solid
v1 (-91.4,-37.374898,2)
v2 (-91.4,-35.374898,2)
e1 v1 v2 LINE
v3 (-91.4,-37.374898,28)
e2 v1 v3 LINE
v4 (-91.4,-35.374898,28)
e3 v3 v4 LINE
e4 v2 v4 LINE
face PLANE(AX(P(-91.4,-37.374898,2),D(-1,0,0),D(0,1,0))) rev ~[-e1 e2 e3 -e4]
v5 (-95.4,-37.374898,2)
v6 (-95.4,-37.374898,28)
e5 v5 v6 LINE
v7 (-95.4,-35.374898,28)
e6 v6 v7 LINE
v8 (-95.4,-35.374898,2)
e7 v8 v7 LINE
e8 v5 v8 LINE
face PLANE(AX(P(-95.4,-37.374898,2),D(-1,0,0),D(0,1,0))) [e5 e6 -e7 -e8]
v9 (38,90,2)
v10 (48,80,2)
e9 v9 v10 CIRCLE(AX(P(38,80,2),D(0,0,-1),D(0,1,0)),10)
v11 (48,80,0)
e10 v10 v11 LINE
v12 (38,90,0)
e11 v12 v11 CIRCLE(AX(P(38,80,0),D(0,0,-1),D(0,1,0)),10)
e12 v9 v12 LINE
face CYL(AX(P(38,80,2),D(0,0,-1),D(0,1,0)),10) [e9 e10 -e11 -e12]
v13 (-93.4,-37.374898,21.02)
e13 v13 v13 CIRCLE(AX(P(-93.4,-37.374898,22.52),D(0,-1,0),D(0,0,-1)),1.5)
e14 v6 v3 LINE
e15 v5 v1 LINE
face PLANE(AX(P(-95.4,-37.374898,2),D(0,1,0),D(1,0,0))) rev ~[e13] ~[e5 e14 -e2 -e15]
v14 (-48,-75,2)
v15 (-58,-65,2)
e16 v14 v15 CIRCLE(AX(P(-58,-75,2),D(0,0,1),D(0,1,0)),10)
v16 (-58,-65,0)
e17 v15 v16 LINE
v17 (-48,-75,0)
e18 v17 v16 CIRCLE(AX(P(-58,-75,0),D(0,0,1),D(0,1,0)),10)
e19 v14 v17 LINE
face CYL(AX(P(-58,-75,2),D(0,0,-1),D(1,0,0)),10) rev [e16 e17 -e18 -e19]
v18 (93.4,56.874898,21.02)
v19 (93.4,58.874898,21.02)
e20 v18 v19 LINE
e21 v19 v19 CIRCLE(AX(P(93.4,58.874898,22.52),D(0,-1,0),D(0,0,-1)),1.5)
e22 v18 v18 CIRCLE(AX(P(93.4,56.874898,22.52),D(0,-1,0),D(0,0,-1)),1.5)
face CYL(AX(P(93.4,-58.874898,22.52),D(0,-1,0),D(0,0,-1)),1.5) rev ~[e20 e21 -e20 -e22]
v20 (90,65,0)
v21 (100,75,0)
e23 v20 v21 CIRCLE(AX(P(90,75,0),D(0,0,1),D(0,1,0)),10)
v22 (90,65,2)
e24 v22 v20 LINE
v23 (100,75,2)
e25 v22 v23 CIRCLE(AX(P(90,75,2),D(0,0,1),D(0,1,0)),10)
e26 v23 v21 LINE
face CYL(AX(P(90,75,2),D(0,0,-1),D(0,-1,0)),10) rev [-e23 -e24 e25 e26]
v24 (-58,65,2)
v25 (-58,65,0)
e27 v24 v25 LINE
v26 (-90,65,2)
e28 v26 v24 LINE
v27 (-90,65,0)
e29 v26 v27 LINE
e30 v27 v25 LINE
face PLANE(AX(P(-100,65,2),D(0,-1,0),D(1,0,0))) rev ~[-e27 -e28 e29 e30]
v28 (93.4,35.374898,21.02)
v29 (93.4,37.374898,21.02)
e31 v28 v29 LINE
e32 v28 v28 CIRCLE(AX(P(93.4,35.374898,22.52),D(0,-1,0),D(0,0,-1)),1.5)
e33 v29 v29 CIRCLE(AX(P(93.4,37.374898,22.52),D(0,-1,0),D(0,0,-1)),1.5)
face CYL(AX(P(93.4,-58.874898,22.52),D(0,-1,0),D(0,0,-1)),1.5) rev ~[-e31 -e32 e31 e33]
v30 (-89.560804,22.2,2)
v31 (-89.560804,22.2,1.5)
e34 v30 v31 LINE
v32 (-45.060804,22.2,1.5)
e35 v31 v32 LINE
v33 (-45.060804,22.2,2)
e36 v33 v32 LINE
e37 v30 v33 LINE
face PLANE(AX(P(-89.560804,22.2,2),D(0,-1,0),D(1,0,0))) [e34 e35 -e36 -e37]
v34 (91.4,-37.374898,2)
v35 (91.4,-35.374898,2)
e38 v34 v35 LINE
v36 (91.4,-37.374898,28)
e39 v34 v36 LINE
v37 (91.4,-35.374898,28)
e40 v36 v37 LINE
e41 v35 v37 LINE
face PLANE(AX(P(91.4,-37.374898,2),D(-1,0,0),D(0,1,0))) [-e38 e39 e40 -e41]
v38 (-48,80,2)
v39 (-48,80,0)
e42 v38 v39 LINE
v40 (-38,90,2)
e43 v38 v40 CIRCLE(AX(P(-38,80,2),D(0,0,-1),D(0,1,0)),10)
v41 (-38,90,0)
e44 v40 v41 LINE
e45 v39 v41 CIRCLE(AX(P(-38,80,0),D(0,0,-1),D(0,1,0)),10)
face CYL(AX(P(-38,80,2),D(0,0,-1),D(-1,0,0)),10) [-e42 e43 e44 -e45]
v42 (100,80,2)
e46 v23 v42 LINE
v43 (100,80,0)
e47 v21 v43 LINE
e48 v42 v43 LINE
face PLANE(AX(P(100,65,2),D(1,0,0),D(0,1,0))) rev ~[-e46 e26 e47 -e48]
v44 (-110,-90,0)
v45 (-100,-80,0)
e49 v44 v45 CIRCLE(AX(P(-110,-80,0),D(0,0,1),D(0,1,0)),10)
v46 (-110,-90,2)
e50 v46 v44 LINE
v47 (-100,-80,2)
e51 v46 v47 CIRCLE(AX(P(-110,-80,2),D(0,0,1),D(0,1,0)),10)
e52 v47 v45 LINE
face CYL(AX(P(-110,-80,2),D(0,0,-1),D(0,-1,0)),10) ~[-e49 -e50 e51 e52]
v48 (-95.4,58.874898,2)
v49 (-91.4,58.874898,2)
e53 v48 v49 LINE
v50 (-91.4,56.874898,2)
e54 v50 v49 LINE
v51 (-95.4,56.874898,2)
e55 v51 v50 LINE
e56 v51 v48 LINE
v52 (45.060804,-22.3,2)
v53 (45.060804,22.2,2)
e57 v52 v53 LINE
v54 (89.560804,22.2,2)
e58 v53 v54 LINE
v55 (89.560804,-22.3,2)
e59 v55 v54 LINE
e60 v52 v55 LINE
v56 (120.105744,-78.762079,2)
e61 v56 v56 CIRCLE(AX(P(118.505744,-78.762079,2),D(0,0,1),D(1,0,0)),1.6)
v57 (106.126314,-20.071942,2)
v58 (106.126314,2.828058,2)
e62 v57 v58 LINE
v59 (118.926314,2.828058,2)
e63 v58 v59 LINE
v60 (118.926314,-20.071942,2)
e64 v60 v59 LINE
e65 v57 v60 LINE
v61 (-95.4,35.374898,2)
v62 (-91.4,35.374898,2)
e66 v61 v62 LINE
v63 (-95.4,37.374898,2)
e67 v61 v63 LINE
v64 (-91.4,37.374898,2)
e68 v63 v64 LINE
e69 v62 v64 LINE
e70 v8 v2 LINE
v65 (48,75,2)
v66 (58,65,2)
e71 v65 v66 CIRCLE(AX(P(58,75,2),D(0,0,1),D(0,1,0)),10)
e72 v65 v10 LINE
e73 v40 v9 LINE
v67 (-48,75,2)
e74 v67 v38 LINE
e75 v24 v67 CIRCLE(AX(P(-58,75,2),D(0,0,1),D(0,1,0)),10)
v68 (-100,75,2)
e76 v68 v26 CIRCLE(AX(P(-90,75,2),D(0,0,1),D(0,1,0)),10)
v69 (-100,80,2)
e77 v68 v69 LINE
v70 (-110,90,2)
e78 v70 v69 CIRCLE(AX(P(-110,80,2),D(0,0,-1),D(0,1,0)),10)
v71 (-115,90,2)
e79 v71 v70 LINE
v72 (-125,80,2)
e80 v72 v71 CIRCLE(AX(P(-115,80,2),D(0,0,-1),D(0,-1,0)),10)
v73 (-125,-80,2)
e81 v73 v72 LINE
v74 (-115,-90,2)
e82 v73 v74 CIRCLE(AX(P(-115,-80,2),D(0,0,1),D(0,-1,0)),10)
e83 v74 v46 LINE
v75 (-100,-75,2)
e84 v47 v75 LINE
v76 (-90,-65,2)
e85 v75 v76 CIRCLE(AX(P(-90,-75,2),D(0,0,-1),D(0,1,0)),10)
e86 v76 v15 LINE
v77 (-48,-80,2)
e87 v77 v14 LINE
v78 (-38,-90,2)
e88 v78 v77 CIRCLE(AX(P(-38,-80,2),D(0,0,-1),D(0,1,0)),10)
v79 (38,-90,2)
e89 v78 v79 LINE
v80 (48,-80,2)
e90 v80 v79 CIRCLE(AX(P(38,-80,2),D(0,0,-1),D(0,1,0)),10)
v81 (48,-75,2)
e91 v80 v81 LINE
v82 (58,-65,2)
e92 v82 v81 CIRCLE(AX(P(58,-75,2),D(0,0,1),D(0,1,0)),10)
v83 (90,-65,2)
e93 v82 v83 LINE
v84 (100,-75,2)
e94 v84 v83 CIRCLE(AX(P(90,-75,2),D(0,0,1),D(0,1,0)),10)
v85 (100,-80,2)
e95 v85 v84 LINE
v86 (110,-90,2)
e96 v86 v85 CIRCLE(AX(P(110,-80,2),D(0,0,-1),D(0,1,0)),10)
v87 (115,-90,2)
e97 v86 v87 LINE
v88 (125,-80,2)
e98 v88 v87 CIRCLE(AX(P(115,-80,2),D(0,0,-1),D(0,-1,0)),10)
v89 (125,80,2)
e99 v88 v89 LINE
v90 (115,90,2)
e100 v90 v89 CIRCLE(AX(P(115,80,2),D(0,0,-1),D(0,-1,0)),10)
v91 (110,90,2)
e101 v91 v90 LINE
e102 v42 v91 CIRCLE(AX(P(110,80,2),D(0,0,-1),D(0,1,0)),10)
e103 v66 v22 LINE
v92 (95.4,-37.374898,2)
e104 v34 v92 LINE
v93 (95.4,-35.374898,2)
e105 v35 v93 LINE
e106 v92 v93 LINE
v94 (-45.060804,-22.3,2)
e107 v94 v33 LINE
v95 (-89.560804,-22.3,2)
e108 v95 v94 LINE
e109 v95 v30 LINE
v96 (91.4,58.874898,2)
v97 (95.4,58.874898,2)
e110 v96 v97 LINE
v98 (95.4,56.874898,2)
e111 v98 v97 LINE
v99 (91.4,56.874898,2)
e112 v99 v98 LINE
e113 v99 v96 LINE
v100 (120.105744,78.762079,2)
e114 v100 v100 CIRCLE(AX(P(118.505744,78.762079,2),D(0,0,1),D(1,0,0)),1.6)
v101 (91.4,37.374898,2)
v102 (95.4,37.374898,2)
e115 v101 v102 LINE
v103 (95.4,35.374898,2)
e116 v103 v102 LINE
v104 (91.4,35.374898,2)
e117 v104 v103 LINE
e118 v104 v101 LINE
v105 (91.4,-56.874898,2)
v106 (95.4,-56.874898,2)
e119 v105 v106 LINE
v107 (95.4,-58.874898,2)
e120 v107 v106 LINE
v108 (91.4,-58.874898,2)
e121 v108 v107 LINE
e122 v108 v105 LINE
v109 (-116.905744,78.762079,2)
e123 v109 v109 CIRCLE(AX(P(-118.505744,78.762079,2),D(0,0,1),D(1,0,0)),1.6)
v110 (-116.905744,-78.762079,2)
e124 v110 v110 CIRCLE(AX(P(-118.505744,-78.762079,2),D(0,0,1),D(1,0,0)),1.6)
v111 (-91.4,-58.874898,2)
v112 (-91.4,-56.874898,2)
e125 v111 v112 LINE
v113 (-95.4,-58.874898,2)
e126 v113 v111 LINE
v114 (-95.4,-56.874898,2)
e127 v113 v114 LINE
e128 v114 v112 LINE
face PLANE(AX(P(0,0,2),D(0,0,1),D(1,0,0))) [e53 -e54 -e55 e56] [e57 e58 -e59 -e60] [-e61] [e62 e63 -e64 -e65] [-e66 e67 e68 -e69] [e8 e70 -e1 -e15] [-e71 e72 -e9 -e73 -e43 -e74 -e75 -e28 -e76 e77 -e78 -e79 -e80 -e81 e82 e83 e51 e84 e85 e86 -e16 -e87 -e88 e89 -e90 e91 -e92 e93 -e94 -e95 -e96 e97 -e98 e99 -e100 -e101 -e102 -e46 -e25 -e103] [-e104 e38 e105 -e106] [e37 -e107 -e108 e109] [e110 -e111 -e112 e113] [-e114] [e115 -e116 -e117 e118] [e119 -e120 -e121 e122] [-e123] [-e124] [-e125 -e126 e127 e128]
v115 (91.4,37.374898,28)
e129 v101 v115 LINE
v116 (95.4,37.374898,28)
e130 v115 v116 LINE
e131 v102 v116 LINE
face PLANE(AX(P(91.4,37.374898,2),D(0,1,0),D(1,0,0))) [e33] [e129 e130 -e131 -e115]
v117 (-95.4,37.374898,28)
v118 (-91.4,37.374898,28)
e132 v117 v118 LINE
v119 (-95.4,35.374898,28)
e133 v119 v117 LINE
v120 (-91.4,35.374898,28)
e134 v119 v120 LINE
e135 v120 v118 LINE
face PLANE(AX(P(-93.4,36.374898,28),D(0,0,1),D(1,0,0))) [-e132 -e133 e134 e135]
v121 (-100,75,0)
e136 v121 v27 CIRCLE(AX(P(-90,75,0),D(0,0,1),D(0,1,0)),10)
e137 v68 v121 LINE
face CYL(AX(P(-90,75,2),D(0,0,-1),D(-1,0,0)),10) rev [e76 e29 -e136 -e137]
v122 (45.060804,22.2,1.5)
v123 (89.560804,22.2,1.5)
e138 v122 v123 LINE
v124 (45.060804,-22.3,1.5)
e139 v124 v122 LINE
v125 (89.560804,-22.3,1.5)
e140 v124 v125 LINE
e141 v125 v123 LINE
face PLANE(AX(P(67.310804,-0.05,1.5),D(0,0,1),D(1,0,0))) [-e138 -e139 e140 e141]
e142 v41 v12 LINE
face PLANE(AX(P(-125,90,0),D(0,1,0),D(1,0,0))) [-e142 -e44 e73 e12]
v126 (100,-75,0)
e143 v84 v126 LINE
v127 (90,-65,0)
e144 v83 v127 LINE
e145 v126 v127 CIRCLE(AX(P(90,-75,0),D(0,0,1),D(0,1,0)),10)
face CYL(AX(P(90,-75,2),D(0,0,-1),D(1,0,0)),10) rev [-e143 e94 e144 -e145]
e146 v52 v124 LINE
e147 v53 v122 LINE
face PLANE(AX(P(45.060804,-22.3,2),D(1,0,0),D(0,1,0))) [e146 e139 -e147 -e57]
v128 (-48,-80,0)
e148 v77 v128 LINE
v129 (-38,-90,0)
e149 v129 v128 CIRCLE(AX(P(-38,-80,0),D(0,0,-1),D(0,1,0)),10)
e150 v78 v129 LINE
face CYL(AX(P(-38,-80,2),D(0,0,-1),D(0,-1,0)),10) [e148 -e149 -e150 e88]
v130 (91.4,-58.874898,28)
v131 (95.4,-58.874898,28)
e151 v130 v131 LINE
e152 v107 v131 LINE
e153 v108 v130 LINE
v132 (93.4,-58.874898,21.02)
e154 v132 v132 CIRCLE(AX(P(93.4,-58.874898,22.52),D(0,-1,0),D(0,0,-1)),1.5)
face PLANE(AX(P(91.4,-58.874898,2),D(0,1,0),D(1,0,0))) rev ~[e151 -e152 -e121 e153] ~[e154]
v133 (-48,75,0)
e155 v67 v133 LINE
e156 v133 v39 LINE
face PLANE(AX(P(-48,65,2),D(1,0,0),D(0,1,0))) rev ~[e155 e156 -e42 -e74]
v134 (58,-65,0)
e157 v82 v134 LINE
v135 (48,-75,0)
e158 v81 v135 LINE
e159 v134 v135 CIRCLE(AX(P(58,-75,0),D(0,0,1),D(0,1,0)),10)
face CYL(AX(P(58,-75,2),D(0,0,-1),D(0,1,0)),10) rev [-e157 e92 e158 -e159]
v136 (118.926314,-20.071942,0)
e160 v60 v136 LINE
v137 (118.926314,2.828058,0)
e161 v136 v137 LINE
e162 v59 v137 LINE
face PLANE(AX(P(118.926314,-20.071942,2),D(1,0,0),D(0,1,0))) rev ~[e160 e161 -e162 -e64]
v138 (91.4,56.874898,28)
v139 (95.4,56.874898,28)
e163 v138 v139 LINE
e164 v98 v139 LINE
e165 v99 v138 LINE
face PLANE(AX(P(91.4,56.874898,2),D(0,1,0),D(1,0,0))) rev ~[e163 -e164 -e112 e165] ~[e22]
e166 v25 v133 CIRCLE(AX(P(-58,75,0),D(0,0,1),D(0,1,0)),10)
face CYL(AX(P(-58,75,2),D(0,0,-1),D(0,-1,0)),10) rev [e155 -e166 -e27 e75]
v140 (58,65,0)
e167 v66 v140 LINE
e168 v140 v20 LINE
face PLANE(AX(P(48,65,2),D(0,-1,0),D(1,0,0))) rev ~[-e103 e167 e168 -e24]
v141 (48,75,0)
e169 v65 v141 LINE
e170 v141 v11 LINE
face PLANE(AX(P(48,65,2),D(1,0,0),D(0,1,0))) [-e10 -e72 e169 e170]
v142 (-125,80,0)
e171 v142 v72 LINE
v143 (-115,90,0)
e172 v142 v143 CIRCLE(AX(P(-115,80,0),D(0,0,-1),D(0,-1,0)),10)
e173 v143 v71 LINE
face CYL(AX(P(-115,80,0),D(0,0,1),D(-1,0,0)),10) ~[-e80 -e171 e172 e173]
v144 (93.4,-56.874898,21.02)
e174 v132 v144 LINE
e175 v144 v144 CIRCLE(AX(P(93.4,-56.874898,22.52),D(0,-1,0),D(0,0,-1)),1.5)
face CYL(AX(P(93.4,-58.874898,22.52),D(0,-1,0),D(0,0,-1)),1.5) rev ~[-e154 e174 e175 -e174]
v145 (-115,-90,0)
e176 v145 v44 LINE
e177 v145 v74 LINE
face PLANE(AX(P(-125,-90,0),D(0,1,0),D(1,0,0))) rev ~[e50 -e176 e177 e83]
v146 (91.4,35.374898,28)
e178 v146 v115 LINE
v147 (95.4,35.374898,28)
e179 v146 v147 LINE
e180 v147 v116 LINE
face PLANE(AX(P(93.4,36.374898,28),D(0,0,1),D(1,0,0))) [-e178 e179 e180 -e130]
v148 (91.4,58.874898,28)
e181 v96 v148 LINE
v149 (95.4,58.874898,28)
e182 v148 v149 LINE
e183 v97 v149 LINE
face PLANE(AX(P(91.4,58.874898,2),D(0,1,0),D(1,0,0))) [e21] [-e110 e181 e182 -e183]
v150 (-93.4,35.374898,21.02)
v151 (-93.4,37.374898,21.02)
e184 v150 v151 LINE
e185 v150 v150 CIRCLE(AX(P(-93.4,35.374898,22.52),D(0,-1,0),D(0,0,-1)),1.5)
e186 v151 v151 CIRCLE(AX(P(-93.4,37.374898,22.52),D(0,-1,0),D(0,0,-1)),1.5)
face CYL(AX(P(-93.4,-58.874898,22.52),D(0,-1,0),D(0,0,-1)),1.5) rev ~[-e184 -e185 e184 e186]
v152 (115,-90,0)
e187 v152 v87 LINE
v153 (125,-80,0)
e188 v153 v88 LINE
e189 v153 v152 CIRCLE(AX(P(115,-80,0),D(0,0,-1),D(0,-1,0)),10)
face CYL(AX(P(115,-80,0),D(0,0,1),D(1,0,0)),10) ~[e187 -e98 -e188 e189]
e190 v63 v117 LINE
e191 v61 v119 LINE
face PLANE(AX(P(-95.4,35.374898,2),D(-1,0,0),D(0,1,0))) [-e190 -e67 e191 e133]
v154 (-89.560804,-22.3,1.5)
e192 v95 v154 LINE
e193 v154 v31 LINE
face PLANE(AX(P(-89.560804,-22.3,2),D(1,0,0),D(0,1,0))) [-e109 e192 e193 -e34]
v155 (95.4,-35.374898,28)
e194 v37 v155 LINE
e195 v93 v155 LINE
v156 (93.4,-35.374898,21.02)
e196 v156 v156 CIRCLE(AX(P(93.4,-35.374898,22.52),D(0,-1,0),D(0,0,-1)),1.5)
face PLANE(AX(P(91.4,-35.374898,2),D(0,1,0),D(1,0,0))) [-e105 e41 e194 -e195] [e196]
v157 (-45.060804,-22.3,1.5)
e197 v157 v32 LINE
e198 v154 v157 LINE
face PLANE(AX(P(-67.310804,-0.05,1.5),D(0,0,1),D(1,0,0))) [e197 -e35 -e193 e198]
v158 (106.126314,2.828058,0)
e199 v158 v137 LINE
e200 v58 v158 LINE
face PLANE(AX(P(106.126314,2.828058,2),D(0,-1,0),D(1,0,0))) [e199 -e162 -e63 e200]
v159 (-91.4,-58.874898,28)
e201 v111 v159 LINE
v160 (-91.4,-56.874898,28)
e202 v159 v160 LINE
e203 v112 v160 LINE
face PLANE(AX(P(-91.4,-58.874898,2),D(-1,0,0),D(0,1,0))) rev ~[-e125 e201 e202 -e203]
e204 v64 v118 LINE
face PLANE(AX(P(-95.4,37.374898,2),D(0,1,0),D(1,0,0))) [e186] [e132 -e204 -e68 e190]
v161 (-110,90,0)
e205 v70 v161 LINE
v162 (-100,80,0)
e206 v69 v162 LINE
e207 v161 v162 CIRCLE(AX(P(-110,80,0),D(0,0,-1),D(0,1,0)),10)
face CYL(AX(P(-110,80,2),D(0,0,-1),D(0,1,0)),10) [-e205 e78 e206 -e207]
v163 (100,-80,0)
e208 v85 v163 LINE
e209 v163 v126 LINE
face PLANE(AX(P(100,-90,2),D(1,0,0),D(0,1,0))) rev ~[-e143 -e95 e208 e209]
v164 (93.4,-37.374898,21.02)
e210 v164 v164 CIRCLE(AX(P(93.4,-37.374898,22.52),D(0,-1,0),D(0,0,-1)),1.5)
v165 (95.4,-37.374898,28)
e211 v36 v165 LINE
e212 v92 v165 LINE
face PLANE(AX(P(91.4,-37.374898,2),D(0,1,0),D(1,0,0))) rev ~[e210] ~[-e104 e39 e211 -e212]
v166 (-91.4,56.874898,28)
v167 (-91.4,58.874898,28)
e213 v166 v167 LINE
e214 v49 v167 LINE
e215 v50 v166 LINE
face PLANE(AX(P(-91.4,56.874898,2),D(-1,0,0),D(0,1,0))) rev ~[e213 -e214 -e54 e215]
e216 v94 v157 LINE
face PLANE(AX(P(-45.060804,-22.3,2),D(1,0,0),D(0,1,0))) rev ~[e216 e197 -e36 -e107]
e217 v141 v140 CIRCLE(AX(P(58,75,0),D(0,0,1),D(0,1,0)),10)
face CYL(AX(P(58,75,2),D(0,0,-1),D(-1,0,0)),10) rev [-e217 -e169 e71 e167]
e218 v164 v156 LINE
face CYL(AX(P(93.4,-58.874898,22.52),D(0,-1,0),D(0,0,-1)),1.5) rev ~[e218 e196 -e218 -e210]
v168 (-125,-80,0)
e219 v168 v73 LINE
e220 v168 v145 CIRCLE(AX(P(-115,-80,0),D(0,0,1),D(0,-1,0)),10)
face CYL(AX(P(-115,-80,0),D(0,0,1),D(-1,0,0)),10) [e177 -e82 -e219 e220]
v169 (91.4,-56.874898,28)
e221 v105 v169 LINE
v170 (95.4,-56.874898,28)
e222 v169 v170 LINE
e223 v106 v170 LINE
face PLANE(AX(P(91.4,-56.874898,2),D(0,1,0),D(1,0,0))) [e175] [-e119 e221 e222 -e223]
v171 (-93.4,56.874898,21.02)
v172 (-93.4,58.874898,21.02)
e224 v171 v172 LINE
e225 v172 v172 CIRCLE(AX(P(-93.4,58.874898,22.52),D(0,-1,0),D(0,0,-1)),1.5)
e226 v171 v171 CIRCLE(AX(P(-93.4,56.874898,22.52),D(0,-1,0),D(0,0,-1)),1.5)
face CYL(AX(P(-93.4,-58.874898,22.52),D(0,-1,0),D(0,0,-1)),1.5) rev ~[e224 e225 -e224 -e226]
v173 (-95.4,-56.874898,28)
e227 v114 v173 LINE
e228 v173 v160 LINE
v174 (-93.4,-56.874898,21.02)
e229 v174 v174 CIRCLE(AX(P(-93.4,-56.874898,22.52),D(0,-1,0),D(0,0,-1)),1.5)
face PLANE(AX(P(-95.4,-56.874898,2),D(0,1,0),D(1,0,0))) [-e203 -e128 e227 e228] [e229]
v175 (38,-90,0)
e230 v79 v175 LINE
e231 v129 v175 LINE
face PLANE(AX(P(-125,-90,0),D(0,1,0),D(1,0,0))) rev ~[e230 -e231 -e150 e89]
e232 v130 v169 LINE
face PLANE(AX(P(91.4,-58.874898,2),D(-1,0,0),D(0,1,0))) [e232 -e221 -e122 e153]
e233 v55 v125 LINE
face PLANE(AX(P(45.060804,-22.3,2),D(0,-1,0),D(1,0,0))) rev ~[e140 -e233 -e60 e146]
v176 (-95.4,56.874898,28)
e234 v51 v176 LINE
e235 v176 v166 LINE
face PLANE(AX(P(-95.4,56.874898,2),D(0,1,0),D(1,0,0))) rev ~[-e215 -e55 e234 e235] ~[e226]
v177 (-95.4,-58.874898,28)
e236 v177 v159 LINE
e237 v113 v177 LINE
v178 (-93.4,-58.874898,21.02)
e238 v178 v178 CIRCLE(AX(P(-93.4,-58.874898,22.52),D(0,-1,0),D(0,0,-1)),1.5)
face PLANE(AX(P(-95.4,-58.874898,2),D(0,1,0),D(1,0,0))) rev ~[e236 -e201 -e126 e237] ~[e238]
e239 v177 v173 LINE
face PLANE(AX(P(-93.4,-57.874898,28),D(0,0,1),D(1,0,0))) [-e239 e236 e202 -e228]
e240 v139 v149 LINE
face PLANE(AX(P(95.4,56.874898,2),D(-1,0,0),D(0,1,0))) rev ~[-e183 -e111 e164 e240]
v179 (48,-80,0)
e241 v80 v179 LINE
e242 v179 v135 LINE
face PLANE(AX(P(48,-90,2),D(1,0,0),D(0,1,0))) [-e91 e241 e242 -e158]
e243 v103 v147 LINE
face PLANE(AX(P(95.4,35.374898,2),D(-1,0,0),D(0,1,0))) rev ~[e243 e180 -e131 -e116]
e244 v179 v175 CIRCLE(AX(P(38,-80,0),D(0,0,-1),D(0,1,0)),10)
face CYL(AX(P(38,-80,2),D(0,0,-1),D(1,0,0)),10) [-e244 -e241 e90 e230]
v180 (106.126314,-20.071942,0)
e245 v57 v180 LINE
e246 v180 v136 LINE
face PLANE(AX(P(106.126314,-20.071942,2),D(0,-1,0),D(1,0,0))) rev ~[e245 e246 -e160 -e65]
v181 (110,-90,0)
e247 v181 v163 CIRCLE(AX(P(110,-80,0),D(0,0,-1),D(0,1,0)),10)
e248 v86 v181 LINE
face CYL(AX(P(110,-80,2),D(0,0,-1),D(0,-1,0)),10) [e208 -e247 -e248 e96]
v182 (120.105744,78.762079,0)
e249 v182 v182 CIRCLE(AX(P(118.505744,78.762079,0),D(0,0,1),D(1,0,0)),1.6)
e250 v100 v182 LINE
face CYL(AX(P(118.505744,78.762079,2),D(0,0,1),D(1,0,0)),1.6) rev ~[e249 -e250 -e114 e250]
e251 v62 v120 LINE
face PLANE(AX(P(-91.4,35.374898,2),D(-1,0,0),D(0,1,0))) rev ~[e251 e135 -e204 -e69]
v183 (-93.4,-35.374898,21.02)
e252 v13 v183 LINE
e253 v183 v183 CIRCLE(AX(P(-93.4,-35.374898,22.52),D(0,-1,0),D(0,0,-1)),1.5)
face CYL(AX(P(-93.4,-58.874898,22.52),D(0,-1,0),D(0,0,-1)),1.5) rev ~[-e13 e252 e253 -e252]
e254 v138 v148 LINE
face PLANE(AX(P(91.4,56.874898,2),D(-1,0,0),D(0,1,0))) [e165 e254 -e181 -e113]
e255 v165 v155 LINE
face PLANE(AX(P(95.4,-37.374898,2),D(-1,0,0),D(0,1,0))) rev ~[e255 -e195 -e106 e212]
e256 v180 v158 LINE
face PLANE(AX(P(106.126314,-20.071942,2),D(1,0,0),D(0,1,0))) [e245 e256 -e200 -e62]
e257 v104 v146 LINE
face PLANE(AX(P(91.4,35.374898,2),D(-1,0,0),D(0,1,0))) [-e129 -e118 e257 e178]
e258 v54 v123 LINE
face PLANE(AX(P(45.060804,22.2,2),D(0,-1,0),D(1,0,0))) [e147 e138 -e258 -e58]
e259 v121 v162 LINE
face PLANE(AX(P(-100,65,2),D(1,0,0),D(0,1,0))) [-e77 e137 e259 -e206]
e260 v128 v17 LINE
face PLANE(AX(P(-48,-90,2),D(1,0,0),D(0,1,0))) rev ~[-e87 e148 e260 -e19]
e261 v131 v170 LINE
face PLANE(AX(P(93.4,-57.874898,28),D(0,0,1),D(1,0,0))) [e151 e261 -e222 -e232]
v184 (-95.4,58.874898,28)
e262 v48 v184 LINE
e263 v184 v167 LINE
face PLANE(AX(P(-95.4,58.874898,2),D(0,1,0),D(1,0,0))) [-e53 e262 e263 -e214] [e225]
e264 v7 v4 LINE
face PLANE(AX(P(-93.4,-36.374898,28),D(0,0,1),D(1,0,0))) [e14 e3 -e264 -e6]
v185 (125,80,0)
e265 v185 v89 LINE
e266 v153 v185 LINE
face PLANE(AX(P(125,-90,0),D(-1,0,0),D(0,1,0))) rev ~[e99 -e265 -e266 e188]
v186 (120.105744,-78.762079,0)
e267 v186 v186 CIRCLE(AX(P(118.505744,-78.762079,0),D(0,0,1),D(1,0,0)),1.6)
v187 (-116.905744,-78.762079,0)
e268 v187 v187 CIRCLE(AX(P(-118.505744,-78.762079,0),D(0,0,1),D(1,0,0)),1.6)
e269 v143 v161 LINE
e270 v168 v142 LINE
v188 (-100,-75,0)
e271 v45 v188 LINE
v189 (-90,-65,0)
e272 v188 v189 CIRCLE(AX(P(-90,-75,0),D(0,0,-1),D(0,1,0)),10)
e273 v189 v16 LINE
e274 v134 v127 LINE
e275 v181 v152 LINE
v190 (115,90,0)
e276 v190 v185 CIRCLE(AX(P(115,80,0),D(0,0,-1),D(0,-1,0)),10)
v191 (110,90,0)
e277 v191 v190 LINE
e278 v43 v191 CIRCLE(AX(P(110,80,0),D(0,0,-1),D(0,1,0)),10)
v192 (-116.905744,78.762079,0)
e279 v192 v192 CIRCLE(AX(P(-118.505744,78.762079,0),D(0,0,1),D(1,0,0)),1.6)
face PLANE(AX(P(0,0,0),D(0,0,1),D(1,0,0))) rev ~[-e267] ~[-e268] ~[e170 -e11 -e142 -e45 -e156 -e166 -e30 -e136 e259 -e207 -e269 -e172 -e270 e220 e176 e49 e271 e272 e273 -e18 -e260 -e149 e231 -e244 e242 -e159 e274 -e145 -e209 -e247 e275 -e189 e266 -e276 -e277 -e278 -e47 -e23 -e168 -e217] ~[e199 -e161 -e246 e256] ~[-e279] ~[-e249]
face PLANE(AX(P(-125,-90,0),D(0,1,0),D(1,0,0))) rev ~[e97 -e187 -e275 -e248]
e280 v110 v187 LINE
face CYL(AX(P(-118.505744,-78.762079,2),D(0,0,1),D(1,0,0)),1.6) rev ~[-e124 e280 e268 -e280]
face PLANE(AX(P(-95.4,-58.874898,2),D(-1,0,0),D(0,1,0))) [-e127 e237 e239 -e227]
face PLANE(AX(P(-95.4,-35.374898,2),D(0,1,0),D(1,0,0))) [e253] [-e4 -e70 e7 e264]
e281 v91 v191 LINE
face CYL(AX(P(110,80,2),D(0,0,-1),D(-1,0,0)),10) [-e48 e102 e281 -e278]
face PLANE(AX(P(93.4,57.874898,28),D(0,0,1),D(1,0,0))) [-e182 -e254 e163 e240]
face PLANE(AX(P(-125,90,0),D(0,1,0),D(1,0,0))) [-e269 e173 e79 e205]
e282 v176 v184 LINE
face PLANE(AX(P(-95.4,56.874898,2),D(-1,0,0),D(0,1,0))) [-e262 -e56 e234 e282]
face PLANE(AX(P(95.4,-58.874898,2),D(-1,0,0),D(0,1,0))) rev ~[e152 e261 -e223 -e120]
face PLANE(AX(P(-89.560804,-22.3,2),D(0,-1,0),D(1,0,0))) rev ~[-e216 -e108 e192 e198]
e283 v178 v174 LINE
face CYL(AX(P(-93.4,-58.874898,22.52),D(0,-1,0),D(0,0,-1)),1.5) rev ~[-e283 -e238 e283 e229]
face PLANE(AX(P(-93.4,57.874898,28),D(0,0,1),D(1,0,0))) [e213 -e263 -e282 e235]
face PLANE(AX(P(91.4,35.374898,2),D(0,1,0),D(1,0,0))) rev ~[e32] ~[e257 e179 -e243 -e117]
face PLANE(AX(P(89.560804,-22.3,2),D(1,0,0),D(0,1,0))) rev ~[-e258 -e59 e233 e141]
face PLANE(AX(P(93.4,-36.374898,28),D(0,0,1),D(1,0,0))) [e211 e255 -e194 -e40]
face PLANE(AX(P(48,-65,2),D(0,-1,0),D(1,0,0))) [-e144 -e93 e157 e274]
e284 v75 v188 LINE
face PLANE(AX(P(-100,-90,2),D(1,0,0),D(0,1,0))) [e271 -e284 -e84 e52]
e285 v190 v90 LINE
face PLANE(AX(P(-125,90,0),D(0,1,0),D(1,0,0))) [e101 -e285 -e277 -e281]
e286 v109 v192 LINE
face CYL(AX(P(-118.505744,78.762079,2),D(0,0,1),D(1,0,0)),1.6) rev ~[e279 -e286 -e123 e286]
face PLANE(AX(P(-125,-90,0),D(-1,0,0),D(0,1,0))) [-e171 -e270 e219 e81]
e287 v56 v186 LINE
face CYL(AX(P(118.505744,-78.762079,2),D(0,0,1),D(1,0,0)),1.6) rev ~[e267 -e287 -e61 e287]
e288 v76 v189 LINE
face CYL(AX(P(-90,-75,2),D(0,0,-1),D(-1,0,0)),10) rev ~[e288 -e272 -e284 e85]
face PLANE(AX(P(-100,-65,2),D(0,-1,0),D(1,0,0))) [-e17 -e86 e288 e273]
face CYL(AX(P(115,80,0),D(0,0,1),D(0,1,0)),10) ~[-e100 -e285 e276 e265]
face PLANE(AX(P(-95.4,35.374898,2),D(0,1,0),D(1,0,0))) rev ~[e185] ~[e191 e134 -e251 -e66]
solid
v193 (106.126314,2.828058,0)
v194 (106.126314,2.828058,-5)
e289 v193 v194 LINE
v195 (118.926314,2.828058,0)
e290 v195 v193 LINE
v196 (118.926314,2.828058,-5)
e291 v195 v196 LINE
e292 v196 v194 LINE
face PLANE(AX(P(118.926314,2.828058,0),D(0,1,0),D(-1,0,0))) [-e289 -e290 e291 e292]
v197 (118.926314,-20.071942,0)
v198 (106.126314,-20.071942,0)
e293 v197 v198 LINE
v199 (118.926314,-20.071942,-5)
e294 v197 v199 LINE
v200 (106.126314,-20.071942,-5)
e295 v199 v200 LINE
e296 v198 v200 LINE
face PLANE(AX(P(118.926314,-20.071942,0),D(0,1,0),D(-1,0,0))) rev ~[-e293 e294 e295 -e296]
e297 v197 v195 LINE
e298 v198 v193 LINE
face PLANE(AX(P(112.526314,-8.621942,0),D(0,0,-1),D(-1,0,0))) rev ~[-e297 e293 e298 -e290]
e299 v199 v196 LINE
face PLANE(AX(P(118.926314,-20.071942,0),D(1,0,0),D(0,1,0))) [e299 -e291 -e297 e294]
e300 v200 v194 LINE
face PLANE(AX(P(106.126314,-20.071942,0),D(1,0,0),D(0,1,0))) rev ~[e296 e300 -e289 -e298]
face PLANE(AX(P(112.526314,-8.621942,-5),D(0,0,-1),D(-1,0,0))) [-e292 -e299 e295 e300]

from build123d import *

# Parameters (mm, degrees)
ESQUISSE1_W              = 250
ESQUISSE1_H              = 180
BOSS_EXTRU_1_DEPTH       = 2
ESQUISSE2_W              = 52
ESQUISSE2_H              = 25
ENL_V_MAT_EXTRU_1_DEPTH  = 155.04220201
CONG_4_R                 = 10
ESQUISSE23_W             = 12.8
ESQUISSE23_H             = 22.9
ENL_V_MAT_EXTRU_13_DEPTH = 2
ESQUISSE24_W             = 44.5
ESQUISSE24_H             = 44.5
ENL_V_MAT_EXTRU_14_DEPTH = 0.5
ESQUISSE33_R             = 1.6
ENL_V_MAT_EXTRU_24_DEPTH = 155.04220201
ESQUISSE40_W             = 4
ESQUISSE40_H             = 2
BOSS_EXTRU_12_DEPTH      = 26
ESQUISSE41_R             = 1.5
ENL_V_MAT_EXTRU_25_DEPTH = 197.399427932
ESQUISSE42_W             = 12.8
ESQUISSE42_H             = 22.9
BOSS_EXTRU_13_DEPTH      = 5


with BuildPart() as part:
    # Esquisse1 → Boss.-Extru.1 (new body)
    with BuildSketch(Plane.XY):
        Rectangle(ESQUISSE1_W, ESQUISSE1_H)
    extrude(amount=BOSS_EXTRU_1_DEPTH)

    # Esquisse2 → Enlèv. mat.-Extru.1 (cut, through all)
    with BuildSketch(Plane.XY.offset(2)):
        with Locations((-74, 77.5)):
            Rectangle(ESQUISSE2_W, ESQUISSE2_H)
        with Locations((-74, -77.5)):
            Rectangle(ESQUISSE2_W, ESQUISSE2_H)
        with Locations((74, -77.5)):
            Rectangle(ESQUISSE2_W, ESQUISSE2_H)
        with Locations((74, 77.5)):
            Rectangle(ESQUISSE2_W, ESQUISSE2_H)
    extrude(amount=-ENL_V_MAT_EXTRU_1_DEPTH, mode=Mode.SUBTRACT)

    # Congé4
    cong_4_edges = [part.edges().sort_by_distance(p)[0] for p in [
        (-100, 90, 1),
        (-48, 90, 1),
        (-48, 65, 1),
        (-100, 65, 1),
        (100, 90, 1),
        (100, 65, 1),
        (48, 65, 1),
        (48, 90, 1),
        (48, -90, 1),
        (48, -65, 1),
        (100, -65, 1),
        (100, -90, 1),
        (-100, -90, 1),
        (-100, -65, 1),
        (-48, -65, 1),
        (-48, -90, 1),
        (-125, 90, 1),
        (125, 90, 1),
        (125, -90, 1),
        (-125, -90, 1),
    ]]
    fillet(cong_4_edges, radius=CONG_4_R)

    # Esquisse23 → Enlèv. mat.-Extru.13 (cut)
    with BuildSketch(Plane.XY.offset(2)):
        with Locations((112.526313531, -8.621941671)):
            Rectangle(ESQUISSE23_W, ESQUISSE23_H)
    extrude(amount=-ENL_V_MAT_EXTRU_13_DEPTH, mode=Mode.SUBTRACT)

    # Esquisse24 → Enlèv. mat.-Extru.14 (cut)
    with BuildSketch(Plane.XY.offset(2)):
        with Locations((-67.310804376, -0.05)):
            Rectangle(ESQUISSE24_W, ESQUISSE24_H)
        with Locations((67.310804376, -0.05)):
            Rectangle(ESQUISSE24_W, ESQUISSE24_H)
    extrude(amount=-ENL_V_MAT_EXTRU_14_DEPTH, mode=Mode.SUBTRACT)

    # Esquisse33 → Enlèv. mat.-Extru.24 (cut, through all)
    with BuildSketch(Plane.XY.offset(2)):
        with Locations((-118.505743781, 78.762079404)):
            Circle(ESQUISSE33_R)
        with Locations((118.505743781, 78.762079404)):
            Circle(ESQUISSE33_R)
        with Locations((118.505743781, -78.762079404)):
            Circle(ESQUISSE33_R)
        with Locations((-118.505743781, -78.762079404)):
            Circle(ESQUISSE33_R)
    extrude(amount=-ENL_V_MAT_EXTRU_24_DEPTH, mode=Mode.SUBTRACT)

    # Esquisse40 → Boss.-Extru.12 (add)
    with BuildSketch(Plane.XY.offset(2)):
        with Locations((-93.4, -57.874898126)):
            Rectangle(ESQUISSE40_W, ESQUISSE40_H)
        with Locations((-93.4, -36.374898126)):
            Rectangle(ESQUISSE40_W, ESQUISSE40_H)
        with Locations((-93.4, 36.374898126)):
            Rectangle(ESQUISSE40_W, ESQUISSE40_H)
        with Locations((-93.4, 57.874898126)):
            Rectangle(ESQUISSE40_W, ESQUISSE40_H)
        with Locations((93.4, 57.874898126)):
            Rectangle(ESQUISSE40_W, ESQUISSE40_H)
        with Locations((93.4, 36.374898126)):
            Rectangle(ESQUISSE40_W, ESQUISSE40_H)
        with Locations((93.4, -36.374898126)):
            Rectangle(ESQUISSE40_W, ESQUISSE40_H)
        with Locations((93.4, -57.874898126)):
            Rectangle(ESQUISSE40_W, ESQUISSE40_H)
    extrude(amount=BOSS_EXTRU_12_DEPTH)

    # Esquisse41 → Enlèv. mat.-Extru.25 (cut, through all)
    with BuildSketch(Plane.XZ.offset(58.874898126)):
        with Locations(Location((-93.4, 22.52, 0), (0, 0, 270))):
            Circle(ESQUISSE41_R)
        with Locations(Location((93.4, 22.52, 0), (0, 0, 270))):
            Circle(ESQUISSE41_R)
    extrude(amount=-ENL_V_MAT_EXTRU_25_DEPTH, mode=Mode.SUBTRACT)


with BuildPart() as body_2:
    # Esquisse42 → Boss.-Extru.13 (new body)
    with BuildSketch(Plane(origin=(0, 0, 0), x_dir=(-1, 0, 0), z_dir=(0, 0, -1))):
        with Locations((-112.526313531, -8.621941671)):
            Rectangle(ESQUISSE42_W, ESQUISSE42_H)
    extrude(amount=BOSS_EXTRU_13_DEPTH)


solid = Compound([part.part, body_2.part])
